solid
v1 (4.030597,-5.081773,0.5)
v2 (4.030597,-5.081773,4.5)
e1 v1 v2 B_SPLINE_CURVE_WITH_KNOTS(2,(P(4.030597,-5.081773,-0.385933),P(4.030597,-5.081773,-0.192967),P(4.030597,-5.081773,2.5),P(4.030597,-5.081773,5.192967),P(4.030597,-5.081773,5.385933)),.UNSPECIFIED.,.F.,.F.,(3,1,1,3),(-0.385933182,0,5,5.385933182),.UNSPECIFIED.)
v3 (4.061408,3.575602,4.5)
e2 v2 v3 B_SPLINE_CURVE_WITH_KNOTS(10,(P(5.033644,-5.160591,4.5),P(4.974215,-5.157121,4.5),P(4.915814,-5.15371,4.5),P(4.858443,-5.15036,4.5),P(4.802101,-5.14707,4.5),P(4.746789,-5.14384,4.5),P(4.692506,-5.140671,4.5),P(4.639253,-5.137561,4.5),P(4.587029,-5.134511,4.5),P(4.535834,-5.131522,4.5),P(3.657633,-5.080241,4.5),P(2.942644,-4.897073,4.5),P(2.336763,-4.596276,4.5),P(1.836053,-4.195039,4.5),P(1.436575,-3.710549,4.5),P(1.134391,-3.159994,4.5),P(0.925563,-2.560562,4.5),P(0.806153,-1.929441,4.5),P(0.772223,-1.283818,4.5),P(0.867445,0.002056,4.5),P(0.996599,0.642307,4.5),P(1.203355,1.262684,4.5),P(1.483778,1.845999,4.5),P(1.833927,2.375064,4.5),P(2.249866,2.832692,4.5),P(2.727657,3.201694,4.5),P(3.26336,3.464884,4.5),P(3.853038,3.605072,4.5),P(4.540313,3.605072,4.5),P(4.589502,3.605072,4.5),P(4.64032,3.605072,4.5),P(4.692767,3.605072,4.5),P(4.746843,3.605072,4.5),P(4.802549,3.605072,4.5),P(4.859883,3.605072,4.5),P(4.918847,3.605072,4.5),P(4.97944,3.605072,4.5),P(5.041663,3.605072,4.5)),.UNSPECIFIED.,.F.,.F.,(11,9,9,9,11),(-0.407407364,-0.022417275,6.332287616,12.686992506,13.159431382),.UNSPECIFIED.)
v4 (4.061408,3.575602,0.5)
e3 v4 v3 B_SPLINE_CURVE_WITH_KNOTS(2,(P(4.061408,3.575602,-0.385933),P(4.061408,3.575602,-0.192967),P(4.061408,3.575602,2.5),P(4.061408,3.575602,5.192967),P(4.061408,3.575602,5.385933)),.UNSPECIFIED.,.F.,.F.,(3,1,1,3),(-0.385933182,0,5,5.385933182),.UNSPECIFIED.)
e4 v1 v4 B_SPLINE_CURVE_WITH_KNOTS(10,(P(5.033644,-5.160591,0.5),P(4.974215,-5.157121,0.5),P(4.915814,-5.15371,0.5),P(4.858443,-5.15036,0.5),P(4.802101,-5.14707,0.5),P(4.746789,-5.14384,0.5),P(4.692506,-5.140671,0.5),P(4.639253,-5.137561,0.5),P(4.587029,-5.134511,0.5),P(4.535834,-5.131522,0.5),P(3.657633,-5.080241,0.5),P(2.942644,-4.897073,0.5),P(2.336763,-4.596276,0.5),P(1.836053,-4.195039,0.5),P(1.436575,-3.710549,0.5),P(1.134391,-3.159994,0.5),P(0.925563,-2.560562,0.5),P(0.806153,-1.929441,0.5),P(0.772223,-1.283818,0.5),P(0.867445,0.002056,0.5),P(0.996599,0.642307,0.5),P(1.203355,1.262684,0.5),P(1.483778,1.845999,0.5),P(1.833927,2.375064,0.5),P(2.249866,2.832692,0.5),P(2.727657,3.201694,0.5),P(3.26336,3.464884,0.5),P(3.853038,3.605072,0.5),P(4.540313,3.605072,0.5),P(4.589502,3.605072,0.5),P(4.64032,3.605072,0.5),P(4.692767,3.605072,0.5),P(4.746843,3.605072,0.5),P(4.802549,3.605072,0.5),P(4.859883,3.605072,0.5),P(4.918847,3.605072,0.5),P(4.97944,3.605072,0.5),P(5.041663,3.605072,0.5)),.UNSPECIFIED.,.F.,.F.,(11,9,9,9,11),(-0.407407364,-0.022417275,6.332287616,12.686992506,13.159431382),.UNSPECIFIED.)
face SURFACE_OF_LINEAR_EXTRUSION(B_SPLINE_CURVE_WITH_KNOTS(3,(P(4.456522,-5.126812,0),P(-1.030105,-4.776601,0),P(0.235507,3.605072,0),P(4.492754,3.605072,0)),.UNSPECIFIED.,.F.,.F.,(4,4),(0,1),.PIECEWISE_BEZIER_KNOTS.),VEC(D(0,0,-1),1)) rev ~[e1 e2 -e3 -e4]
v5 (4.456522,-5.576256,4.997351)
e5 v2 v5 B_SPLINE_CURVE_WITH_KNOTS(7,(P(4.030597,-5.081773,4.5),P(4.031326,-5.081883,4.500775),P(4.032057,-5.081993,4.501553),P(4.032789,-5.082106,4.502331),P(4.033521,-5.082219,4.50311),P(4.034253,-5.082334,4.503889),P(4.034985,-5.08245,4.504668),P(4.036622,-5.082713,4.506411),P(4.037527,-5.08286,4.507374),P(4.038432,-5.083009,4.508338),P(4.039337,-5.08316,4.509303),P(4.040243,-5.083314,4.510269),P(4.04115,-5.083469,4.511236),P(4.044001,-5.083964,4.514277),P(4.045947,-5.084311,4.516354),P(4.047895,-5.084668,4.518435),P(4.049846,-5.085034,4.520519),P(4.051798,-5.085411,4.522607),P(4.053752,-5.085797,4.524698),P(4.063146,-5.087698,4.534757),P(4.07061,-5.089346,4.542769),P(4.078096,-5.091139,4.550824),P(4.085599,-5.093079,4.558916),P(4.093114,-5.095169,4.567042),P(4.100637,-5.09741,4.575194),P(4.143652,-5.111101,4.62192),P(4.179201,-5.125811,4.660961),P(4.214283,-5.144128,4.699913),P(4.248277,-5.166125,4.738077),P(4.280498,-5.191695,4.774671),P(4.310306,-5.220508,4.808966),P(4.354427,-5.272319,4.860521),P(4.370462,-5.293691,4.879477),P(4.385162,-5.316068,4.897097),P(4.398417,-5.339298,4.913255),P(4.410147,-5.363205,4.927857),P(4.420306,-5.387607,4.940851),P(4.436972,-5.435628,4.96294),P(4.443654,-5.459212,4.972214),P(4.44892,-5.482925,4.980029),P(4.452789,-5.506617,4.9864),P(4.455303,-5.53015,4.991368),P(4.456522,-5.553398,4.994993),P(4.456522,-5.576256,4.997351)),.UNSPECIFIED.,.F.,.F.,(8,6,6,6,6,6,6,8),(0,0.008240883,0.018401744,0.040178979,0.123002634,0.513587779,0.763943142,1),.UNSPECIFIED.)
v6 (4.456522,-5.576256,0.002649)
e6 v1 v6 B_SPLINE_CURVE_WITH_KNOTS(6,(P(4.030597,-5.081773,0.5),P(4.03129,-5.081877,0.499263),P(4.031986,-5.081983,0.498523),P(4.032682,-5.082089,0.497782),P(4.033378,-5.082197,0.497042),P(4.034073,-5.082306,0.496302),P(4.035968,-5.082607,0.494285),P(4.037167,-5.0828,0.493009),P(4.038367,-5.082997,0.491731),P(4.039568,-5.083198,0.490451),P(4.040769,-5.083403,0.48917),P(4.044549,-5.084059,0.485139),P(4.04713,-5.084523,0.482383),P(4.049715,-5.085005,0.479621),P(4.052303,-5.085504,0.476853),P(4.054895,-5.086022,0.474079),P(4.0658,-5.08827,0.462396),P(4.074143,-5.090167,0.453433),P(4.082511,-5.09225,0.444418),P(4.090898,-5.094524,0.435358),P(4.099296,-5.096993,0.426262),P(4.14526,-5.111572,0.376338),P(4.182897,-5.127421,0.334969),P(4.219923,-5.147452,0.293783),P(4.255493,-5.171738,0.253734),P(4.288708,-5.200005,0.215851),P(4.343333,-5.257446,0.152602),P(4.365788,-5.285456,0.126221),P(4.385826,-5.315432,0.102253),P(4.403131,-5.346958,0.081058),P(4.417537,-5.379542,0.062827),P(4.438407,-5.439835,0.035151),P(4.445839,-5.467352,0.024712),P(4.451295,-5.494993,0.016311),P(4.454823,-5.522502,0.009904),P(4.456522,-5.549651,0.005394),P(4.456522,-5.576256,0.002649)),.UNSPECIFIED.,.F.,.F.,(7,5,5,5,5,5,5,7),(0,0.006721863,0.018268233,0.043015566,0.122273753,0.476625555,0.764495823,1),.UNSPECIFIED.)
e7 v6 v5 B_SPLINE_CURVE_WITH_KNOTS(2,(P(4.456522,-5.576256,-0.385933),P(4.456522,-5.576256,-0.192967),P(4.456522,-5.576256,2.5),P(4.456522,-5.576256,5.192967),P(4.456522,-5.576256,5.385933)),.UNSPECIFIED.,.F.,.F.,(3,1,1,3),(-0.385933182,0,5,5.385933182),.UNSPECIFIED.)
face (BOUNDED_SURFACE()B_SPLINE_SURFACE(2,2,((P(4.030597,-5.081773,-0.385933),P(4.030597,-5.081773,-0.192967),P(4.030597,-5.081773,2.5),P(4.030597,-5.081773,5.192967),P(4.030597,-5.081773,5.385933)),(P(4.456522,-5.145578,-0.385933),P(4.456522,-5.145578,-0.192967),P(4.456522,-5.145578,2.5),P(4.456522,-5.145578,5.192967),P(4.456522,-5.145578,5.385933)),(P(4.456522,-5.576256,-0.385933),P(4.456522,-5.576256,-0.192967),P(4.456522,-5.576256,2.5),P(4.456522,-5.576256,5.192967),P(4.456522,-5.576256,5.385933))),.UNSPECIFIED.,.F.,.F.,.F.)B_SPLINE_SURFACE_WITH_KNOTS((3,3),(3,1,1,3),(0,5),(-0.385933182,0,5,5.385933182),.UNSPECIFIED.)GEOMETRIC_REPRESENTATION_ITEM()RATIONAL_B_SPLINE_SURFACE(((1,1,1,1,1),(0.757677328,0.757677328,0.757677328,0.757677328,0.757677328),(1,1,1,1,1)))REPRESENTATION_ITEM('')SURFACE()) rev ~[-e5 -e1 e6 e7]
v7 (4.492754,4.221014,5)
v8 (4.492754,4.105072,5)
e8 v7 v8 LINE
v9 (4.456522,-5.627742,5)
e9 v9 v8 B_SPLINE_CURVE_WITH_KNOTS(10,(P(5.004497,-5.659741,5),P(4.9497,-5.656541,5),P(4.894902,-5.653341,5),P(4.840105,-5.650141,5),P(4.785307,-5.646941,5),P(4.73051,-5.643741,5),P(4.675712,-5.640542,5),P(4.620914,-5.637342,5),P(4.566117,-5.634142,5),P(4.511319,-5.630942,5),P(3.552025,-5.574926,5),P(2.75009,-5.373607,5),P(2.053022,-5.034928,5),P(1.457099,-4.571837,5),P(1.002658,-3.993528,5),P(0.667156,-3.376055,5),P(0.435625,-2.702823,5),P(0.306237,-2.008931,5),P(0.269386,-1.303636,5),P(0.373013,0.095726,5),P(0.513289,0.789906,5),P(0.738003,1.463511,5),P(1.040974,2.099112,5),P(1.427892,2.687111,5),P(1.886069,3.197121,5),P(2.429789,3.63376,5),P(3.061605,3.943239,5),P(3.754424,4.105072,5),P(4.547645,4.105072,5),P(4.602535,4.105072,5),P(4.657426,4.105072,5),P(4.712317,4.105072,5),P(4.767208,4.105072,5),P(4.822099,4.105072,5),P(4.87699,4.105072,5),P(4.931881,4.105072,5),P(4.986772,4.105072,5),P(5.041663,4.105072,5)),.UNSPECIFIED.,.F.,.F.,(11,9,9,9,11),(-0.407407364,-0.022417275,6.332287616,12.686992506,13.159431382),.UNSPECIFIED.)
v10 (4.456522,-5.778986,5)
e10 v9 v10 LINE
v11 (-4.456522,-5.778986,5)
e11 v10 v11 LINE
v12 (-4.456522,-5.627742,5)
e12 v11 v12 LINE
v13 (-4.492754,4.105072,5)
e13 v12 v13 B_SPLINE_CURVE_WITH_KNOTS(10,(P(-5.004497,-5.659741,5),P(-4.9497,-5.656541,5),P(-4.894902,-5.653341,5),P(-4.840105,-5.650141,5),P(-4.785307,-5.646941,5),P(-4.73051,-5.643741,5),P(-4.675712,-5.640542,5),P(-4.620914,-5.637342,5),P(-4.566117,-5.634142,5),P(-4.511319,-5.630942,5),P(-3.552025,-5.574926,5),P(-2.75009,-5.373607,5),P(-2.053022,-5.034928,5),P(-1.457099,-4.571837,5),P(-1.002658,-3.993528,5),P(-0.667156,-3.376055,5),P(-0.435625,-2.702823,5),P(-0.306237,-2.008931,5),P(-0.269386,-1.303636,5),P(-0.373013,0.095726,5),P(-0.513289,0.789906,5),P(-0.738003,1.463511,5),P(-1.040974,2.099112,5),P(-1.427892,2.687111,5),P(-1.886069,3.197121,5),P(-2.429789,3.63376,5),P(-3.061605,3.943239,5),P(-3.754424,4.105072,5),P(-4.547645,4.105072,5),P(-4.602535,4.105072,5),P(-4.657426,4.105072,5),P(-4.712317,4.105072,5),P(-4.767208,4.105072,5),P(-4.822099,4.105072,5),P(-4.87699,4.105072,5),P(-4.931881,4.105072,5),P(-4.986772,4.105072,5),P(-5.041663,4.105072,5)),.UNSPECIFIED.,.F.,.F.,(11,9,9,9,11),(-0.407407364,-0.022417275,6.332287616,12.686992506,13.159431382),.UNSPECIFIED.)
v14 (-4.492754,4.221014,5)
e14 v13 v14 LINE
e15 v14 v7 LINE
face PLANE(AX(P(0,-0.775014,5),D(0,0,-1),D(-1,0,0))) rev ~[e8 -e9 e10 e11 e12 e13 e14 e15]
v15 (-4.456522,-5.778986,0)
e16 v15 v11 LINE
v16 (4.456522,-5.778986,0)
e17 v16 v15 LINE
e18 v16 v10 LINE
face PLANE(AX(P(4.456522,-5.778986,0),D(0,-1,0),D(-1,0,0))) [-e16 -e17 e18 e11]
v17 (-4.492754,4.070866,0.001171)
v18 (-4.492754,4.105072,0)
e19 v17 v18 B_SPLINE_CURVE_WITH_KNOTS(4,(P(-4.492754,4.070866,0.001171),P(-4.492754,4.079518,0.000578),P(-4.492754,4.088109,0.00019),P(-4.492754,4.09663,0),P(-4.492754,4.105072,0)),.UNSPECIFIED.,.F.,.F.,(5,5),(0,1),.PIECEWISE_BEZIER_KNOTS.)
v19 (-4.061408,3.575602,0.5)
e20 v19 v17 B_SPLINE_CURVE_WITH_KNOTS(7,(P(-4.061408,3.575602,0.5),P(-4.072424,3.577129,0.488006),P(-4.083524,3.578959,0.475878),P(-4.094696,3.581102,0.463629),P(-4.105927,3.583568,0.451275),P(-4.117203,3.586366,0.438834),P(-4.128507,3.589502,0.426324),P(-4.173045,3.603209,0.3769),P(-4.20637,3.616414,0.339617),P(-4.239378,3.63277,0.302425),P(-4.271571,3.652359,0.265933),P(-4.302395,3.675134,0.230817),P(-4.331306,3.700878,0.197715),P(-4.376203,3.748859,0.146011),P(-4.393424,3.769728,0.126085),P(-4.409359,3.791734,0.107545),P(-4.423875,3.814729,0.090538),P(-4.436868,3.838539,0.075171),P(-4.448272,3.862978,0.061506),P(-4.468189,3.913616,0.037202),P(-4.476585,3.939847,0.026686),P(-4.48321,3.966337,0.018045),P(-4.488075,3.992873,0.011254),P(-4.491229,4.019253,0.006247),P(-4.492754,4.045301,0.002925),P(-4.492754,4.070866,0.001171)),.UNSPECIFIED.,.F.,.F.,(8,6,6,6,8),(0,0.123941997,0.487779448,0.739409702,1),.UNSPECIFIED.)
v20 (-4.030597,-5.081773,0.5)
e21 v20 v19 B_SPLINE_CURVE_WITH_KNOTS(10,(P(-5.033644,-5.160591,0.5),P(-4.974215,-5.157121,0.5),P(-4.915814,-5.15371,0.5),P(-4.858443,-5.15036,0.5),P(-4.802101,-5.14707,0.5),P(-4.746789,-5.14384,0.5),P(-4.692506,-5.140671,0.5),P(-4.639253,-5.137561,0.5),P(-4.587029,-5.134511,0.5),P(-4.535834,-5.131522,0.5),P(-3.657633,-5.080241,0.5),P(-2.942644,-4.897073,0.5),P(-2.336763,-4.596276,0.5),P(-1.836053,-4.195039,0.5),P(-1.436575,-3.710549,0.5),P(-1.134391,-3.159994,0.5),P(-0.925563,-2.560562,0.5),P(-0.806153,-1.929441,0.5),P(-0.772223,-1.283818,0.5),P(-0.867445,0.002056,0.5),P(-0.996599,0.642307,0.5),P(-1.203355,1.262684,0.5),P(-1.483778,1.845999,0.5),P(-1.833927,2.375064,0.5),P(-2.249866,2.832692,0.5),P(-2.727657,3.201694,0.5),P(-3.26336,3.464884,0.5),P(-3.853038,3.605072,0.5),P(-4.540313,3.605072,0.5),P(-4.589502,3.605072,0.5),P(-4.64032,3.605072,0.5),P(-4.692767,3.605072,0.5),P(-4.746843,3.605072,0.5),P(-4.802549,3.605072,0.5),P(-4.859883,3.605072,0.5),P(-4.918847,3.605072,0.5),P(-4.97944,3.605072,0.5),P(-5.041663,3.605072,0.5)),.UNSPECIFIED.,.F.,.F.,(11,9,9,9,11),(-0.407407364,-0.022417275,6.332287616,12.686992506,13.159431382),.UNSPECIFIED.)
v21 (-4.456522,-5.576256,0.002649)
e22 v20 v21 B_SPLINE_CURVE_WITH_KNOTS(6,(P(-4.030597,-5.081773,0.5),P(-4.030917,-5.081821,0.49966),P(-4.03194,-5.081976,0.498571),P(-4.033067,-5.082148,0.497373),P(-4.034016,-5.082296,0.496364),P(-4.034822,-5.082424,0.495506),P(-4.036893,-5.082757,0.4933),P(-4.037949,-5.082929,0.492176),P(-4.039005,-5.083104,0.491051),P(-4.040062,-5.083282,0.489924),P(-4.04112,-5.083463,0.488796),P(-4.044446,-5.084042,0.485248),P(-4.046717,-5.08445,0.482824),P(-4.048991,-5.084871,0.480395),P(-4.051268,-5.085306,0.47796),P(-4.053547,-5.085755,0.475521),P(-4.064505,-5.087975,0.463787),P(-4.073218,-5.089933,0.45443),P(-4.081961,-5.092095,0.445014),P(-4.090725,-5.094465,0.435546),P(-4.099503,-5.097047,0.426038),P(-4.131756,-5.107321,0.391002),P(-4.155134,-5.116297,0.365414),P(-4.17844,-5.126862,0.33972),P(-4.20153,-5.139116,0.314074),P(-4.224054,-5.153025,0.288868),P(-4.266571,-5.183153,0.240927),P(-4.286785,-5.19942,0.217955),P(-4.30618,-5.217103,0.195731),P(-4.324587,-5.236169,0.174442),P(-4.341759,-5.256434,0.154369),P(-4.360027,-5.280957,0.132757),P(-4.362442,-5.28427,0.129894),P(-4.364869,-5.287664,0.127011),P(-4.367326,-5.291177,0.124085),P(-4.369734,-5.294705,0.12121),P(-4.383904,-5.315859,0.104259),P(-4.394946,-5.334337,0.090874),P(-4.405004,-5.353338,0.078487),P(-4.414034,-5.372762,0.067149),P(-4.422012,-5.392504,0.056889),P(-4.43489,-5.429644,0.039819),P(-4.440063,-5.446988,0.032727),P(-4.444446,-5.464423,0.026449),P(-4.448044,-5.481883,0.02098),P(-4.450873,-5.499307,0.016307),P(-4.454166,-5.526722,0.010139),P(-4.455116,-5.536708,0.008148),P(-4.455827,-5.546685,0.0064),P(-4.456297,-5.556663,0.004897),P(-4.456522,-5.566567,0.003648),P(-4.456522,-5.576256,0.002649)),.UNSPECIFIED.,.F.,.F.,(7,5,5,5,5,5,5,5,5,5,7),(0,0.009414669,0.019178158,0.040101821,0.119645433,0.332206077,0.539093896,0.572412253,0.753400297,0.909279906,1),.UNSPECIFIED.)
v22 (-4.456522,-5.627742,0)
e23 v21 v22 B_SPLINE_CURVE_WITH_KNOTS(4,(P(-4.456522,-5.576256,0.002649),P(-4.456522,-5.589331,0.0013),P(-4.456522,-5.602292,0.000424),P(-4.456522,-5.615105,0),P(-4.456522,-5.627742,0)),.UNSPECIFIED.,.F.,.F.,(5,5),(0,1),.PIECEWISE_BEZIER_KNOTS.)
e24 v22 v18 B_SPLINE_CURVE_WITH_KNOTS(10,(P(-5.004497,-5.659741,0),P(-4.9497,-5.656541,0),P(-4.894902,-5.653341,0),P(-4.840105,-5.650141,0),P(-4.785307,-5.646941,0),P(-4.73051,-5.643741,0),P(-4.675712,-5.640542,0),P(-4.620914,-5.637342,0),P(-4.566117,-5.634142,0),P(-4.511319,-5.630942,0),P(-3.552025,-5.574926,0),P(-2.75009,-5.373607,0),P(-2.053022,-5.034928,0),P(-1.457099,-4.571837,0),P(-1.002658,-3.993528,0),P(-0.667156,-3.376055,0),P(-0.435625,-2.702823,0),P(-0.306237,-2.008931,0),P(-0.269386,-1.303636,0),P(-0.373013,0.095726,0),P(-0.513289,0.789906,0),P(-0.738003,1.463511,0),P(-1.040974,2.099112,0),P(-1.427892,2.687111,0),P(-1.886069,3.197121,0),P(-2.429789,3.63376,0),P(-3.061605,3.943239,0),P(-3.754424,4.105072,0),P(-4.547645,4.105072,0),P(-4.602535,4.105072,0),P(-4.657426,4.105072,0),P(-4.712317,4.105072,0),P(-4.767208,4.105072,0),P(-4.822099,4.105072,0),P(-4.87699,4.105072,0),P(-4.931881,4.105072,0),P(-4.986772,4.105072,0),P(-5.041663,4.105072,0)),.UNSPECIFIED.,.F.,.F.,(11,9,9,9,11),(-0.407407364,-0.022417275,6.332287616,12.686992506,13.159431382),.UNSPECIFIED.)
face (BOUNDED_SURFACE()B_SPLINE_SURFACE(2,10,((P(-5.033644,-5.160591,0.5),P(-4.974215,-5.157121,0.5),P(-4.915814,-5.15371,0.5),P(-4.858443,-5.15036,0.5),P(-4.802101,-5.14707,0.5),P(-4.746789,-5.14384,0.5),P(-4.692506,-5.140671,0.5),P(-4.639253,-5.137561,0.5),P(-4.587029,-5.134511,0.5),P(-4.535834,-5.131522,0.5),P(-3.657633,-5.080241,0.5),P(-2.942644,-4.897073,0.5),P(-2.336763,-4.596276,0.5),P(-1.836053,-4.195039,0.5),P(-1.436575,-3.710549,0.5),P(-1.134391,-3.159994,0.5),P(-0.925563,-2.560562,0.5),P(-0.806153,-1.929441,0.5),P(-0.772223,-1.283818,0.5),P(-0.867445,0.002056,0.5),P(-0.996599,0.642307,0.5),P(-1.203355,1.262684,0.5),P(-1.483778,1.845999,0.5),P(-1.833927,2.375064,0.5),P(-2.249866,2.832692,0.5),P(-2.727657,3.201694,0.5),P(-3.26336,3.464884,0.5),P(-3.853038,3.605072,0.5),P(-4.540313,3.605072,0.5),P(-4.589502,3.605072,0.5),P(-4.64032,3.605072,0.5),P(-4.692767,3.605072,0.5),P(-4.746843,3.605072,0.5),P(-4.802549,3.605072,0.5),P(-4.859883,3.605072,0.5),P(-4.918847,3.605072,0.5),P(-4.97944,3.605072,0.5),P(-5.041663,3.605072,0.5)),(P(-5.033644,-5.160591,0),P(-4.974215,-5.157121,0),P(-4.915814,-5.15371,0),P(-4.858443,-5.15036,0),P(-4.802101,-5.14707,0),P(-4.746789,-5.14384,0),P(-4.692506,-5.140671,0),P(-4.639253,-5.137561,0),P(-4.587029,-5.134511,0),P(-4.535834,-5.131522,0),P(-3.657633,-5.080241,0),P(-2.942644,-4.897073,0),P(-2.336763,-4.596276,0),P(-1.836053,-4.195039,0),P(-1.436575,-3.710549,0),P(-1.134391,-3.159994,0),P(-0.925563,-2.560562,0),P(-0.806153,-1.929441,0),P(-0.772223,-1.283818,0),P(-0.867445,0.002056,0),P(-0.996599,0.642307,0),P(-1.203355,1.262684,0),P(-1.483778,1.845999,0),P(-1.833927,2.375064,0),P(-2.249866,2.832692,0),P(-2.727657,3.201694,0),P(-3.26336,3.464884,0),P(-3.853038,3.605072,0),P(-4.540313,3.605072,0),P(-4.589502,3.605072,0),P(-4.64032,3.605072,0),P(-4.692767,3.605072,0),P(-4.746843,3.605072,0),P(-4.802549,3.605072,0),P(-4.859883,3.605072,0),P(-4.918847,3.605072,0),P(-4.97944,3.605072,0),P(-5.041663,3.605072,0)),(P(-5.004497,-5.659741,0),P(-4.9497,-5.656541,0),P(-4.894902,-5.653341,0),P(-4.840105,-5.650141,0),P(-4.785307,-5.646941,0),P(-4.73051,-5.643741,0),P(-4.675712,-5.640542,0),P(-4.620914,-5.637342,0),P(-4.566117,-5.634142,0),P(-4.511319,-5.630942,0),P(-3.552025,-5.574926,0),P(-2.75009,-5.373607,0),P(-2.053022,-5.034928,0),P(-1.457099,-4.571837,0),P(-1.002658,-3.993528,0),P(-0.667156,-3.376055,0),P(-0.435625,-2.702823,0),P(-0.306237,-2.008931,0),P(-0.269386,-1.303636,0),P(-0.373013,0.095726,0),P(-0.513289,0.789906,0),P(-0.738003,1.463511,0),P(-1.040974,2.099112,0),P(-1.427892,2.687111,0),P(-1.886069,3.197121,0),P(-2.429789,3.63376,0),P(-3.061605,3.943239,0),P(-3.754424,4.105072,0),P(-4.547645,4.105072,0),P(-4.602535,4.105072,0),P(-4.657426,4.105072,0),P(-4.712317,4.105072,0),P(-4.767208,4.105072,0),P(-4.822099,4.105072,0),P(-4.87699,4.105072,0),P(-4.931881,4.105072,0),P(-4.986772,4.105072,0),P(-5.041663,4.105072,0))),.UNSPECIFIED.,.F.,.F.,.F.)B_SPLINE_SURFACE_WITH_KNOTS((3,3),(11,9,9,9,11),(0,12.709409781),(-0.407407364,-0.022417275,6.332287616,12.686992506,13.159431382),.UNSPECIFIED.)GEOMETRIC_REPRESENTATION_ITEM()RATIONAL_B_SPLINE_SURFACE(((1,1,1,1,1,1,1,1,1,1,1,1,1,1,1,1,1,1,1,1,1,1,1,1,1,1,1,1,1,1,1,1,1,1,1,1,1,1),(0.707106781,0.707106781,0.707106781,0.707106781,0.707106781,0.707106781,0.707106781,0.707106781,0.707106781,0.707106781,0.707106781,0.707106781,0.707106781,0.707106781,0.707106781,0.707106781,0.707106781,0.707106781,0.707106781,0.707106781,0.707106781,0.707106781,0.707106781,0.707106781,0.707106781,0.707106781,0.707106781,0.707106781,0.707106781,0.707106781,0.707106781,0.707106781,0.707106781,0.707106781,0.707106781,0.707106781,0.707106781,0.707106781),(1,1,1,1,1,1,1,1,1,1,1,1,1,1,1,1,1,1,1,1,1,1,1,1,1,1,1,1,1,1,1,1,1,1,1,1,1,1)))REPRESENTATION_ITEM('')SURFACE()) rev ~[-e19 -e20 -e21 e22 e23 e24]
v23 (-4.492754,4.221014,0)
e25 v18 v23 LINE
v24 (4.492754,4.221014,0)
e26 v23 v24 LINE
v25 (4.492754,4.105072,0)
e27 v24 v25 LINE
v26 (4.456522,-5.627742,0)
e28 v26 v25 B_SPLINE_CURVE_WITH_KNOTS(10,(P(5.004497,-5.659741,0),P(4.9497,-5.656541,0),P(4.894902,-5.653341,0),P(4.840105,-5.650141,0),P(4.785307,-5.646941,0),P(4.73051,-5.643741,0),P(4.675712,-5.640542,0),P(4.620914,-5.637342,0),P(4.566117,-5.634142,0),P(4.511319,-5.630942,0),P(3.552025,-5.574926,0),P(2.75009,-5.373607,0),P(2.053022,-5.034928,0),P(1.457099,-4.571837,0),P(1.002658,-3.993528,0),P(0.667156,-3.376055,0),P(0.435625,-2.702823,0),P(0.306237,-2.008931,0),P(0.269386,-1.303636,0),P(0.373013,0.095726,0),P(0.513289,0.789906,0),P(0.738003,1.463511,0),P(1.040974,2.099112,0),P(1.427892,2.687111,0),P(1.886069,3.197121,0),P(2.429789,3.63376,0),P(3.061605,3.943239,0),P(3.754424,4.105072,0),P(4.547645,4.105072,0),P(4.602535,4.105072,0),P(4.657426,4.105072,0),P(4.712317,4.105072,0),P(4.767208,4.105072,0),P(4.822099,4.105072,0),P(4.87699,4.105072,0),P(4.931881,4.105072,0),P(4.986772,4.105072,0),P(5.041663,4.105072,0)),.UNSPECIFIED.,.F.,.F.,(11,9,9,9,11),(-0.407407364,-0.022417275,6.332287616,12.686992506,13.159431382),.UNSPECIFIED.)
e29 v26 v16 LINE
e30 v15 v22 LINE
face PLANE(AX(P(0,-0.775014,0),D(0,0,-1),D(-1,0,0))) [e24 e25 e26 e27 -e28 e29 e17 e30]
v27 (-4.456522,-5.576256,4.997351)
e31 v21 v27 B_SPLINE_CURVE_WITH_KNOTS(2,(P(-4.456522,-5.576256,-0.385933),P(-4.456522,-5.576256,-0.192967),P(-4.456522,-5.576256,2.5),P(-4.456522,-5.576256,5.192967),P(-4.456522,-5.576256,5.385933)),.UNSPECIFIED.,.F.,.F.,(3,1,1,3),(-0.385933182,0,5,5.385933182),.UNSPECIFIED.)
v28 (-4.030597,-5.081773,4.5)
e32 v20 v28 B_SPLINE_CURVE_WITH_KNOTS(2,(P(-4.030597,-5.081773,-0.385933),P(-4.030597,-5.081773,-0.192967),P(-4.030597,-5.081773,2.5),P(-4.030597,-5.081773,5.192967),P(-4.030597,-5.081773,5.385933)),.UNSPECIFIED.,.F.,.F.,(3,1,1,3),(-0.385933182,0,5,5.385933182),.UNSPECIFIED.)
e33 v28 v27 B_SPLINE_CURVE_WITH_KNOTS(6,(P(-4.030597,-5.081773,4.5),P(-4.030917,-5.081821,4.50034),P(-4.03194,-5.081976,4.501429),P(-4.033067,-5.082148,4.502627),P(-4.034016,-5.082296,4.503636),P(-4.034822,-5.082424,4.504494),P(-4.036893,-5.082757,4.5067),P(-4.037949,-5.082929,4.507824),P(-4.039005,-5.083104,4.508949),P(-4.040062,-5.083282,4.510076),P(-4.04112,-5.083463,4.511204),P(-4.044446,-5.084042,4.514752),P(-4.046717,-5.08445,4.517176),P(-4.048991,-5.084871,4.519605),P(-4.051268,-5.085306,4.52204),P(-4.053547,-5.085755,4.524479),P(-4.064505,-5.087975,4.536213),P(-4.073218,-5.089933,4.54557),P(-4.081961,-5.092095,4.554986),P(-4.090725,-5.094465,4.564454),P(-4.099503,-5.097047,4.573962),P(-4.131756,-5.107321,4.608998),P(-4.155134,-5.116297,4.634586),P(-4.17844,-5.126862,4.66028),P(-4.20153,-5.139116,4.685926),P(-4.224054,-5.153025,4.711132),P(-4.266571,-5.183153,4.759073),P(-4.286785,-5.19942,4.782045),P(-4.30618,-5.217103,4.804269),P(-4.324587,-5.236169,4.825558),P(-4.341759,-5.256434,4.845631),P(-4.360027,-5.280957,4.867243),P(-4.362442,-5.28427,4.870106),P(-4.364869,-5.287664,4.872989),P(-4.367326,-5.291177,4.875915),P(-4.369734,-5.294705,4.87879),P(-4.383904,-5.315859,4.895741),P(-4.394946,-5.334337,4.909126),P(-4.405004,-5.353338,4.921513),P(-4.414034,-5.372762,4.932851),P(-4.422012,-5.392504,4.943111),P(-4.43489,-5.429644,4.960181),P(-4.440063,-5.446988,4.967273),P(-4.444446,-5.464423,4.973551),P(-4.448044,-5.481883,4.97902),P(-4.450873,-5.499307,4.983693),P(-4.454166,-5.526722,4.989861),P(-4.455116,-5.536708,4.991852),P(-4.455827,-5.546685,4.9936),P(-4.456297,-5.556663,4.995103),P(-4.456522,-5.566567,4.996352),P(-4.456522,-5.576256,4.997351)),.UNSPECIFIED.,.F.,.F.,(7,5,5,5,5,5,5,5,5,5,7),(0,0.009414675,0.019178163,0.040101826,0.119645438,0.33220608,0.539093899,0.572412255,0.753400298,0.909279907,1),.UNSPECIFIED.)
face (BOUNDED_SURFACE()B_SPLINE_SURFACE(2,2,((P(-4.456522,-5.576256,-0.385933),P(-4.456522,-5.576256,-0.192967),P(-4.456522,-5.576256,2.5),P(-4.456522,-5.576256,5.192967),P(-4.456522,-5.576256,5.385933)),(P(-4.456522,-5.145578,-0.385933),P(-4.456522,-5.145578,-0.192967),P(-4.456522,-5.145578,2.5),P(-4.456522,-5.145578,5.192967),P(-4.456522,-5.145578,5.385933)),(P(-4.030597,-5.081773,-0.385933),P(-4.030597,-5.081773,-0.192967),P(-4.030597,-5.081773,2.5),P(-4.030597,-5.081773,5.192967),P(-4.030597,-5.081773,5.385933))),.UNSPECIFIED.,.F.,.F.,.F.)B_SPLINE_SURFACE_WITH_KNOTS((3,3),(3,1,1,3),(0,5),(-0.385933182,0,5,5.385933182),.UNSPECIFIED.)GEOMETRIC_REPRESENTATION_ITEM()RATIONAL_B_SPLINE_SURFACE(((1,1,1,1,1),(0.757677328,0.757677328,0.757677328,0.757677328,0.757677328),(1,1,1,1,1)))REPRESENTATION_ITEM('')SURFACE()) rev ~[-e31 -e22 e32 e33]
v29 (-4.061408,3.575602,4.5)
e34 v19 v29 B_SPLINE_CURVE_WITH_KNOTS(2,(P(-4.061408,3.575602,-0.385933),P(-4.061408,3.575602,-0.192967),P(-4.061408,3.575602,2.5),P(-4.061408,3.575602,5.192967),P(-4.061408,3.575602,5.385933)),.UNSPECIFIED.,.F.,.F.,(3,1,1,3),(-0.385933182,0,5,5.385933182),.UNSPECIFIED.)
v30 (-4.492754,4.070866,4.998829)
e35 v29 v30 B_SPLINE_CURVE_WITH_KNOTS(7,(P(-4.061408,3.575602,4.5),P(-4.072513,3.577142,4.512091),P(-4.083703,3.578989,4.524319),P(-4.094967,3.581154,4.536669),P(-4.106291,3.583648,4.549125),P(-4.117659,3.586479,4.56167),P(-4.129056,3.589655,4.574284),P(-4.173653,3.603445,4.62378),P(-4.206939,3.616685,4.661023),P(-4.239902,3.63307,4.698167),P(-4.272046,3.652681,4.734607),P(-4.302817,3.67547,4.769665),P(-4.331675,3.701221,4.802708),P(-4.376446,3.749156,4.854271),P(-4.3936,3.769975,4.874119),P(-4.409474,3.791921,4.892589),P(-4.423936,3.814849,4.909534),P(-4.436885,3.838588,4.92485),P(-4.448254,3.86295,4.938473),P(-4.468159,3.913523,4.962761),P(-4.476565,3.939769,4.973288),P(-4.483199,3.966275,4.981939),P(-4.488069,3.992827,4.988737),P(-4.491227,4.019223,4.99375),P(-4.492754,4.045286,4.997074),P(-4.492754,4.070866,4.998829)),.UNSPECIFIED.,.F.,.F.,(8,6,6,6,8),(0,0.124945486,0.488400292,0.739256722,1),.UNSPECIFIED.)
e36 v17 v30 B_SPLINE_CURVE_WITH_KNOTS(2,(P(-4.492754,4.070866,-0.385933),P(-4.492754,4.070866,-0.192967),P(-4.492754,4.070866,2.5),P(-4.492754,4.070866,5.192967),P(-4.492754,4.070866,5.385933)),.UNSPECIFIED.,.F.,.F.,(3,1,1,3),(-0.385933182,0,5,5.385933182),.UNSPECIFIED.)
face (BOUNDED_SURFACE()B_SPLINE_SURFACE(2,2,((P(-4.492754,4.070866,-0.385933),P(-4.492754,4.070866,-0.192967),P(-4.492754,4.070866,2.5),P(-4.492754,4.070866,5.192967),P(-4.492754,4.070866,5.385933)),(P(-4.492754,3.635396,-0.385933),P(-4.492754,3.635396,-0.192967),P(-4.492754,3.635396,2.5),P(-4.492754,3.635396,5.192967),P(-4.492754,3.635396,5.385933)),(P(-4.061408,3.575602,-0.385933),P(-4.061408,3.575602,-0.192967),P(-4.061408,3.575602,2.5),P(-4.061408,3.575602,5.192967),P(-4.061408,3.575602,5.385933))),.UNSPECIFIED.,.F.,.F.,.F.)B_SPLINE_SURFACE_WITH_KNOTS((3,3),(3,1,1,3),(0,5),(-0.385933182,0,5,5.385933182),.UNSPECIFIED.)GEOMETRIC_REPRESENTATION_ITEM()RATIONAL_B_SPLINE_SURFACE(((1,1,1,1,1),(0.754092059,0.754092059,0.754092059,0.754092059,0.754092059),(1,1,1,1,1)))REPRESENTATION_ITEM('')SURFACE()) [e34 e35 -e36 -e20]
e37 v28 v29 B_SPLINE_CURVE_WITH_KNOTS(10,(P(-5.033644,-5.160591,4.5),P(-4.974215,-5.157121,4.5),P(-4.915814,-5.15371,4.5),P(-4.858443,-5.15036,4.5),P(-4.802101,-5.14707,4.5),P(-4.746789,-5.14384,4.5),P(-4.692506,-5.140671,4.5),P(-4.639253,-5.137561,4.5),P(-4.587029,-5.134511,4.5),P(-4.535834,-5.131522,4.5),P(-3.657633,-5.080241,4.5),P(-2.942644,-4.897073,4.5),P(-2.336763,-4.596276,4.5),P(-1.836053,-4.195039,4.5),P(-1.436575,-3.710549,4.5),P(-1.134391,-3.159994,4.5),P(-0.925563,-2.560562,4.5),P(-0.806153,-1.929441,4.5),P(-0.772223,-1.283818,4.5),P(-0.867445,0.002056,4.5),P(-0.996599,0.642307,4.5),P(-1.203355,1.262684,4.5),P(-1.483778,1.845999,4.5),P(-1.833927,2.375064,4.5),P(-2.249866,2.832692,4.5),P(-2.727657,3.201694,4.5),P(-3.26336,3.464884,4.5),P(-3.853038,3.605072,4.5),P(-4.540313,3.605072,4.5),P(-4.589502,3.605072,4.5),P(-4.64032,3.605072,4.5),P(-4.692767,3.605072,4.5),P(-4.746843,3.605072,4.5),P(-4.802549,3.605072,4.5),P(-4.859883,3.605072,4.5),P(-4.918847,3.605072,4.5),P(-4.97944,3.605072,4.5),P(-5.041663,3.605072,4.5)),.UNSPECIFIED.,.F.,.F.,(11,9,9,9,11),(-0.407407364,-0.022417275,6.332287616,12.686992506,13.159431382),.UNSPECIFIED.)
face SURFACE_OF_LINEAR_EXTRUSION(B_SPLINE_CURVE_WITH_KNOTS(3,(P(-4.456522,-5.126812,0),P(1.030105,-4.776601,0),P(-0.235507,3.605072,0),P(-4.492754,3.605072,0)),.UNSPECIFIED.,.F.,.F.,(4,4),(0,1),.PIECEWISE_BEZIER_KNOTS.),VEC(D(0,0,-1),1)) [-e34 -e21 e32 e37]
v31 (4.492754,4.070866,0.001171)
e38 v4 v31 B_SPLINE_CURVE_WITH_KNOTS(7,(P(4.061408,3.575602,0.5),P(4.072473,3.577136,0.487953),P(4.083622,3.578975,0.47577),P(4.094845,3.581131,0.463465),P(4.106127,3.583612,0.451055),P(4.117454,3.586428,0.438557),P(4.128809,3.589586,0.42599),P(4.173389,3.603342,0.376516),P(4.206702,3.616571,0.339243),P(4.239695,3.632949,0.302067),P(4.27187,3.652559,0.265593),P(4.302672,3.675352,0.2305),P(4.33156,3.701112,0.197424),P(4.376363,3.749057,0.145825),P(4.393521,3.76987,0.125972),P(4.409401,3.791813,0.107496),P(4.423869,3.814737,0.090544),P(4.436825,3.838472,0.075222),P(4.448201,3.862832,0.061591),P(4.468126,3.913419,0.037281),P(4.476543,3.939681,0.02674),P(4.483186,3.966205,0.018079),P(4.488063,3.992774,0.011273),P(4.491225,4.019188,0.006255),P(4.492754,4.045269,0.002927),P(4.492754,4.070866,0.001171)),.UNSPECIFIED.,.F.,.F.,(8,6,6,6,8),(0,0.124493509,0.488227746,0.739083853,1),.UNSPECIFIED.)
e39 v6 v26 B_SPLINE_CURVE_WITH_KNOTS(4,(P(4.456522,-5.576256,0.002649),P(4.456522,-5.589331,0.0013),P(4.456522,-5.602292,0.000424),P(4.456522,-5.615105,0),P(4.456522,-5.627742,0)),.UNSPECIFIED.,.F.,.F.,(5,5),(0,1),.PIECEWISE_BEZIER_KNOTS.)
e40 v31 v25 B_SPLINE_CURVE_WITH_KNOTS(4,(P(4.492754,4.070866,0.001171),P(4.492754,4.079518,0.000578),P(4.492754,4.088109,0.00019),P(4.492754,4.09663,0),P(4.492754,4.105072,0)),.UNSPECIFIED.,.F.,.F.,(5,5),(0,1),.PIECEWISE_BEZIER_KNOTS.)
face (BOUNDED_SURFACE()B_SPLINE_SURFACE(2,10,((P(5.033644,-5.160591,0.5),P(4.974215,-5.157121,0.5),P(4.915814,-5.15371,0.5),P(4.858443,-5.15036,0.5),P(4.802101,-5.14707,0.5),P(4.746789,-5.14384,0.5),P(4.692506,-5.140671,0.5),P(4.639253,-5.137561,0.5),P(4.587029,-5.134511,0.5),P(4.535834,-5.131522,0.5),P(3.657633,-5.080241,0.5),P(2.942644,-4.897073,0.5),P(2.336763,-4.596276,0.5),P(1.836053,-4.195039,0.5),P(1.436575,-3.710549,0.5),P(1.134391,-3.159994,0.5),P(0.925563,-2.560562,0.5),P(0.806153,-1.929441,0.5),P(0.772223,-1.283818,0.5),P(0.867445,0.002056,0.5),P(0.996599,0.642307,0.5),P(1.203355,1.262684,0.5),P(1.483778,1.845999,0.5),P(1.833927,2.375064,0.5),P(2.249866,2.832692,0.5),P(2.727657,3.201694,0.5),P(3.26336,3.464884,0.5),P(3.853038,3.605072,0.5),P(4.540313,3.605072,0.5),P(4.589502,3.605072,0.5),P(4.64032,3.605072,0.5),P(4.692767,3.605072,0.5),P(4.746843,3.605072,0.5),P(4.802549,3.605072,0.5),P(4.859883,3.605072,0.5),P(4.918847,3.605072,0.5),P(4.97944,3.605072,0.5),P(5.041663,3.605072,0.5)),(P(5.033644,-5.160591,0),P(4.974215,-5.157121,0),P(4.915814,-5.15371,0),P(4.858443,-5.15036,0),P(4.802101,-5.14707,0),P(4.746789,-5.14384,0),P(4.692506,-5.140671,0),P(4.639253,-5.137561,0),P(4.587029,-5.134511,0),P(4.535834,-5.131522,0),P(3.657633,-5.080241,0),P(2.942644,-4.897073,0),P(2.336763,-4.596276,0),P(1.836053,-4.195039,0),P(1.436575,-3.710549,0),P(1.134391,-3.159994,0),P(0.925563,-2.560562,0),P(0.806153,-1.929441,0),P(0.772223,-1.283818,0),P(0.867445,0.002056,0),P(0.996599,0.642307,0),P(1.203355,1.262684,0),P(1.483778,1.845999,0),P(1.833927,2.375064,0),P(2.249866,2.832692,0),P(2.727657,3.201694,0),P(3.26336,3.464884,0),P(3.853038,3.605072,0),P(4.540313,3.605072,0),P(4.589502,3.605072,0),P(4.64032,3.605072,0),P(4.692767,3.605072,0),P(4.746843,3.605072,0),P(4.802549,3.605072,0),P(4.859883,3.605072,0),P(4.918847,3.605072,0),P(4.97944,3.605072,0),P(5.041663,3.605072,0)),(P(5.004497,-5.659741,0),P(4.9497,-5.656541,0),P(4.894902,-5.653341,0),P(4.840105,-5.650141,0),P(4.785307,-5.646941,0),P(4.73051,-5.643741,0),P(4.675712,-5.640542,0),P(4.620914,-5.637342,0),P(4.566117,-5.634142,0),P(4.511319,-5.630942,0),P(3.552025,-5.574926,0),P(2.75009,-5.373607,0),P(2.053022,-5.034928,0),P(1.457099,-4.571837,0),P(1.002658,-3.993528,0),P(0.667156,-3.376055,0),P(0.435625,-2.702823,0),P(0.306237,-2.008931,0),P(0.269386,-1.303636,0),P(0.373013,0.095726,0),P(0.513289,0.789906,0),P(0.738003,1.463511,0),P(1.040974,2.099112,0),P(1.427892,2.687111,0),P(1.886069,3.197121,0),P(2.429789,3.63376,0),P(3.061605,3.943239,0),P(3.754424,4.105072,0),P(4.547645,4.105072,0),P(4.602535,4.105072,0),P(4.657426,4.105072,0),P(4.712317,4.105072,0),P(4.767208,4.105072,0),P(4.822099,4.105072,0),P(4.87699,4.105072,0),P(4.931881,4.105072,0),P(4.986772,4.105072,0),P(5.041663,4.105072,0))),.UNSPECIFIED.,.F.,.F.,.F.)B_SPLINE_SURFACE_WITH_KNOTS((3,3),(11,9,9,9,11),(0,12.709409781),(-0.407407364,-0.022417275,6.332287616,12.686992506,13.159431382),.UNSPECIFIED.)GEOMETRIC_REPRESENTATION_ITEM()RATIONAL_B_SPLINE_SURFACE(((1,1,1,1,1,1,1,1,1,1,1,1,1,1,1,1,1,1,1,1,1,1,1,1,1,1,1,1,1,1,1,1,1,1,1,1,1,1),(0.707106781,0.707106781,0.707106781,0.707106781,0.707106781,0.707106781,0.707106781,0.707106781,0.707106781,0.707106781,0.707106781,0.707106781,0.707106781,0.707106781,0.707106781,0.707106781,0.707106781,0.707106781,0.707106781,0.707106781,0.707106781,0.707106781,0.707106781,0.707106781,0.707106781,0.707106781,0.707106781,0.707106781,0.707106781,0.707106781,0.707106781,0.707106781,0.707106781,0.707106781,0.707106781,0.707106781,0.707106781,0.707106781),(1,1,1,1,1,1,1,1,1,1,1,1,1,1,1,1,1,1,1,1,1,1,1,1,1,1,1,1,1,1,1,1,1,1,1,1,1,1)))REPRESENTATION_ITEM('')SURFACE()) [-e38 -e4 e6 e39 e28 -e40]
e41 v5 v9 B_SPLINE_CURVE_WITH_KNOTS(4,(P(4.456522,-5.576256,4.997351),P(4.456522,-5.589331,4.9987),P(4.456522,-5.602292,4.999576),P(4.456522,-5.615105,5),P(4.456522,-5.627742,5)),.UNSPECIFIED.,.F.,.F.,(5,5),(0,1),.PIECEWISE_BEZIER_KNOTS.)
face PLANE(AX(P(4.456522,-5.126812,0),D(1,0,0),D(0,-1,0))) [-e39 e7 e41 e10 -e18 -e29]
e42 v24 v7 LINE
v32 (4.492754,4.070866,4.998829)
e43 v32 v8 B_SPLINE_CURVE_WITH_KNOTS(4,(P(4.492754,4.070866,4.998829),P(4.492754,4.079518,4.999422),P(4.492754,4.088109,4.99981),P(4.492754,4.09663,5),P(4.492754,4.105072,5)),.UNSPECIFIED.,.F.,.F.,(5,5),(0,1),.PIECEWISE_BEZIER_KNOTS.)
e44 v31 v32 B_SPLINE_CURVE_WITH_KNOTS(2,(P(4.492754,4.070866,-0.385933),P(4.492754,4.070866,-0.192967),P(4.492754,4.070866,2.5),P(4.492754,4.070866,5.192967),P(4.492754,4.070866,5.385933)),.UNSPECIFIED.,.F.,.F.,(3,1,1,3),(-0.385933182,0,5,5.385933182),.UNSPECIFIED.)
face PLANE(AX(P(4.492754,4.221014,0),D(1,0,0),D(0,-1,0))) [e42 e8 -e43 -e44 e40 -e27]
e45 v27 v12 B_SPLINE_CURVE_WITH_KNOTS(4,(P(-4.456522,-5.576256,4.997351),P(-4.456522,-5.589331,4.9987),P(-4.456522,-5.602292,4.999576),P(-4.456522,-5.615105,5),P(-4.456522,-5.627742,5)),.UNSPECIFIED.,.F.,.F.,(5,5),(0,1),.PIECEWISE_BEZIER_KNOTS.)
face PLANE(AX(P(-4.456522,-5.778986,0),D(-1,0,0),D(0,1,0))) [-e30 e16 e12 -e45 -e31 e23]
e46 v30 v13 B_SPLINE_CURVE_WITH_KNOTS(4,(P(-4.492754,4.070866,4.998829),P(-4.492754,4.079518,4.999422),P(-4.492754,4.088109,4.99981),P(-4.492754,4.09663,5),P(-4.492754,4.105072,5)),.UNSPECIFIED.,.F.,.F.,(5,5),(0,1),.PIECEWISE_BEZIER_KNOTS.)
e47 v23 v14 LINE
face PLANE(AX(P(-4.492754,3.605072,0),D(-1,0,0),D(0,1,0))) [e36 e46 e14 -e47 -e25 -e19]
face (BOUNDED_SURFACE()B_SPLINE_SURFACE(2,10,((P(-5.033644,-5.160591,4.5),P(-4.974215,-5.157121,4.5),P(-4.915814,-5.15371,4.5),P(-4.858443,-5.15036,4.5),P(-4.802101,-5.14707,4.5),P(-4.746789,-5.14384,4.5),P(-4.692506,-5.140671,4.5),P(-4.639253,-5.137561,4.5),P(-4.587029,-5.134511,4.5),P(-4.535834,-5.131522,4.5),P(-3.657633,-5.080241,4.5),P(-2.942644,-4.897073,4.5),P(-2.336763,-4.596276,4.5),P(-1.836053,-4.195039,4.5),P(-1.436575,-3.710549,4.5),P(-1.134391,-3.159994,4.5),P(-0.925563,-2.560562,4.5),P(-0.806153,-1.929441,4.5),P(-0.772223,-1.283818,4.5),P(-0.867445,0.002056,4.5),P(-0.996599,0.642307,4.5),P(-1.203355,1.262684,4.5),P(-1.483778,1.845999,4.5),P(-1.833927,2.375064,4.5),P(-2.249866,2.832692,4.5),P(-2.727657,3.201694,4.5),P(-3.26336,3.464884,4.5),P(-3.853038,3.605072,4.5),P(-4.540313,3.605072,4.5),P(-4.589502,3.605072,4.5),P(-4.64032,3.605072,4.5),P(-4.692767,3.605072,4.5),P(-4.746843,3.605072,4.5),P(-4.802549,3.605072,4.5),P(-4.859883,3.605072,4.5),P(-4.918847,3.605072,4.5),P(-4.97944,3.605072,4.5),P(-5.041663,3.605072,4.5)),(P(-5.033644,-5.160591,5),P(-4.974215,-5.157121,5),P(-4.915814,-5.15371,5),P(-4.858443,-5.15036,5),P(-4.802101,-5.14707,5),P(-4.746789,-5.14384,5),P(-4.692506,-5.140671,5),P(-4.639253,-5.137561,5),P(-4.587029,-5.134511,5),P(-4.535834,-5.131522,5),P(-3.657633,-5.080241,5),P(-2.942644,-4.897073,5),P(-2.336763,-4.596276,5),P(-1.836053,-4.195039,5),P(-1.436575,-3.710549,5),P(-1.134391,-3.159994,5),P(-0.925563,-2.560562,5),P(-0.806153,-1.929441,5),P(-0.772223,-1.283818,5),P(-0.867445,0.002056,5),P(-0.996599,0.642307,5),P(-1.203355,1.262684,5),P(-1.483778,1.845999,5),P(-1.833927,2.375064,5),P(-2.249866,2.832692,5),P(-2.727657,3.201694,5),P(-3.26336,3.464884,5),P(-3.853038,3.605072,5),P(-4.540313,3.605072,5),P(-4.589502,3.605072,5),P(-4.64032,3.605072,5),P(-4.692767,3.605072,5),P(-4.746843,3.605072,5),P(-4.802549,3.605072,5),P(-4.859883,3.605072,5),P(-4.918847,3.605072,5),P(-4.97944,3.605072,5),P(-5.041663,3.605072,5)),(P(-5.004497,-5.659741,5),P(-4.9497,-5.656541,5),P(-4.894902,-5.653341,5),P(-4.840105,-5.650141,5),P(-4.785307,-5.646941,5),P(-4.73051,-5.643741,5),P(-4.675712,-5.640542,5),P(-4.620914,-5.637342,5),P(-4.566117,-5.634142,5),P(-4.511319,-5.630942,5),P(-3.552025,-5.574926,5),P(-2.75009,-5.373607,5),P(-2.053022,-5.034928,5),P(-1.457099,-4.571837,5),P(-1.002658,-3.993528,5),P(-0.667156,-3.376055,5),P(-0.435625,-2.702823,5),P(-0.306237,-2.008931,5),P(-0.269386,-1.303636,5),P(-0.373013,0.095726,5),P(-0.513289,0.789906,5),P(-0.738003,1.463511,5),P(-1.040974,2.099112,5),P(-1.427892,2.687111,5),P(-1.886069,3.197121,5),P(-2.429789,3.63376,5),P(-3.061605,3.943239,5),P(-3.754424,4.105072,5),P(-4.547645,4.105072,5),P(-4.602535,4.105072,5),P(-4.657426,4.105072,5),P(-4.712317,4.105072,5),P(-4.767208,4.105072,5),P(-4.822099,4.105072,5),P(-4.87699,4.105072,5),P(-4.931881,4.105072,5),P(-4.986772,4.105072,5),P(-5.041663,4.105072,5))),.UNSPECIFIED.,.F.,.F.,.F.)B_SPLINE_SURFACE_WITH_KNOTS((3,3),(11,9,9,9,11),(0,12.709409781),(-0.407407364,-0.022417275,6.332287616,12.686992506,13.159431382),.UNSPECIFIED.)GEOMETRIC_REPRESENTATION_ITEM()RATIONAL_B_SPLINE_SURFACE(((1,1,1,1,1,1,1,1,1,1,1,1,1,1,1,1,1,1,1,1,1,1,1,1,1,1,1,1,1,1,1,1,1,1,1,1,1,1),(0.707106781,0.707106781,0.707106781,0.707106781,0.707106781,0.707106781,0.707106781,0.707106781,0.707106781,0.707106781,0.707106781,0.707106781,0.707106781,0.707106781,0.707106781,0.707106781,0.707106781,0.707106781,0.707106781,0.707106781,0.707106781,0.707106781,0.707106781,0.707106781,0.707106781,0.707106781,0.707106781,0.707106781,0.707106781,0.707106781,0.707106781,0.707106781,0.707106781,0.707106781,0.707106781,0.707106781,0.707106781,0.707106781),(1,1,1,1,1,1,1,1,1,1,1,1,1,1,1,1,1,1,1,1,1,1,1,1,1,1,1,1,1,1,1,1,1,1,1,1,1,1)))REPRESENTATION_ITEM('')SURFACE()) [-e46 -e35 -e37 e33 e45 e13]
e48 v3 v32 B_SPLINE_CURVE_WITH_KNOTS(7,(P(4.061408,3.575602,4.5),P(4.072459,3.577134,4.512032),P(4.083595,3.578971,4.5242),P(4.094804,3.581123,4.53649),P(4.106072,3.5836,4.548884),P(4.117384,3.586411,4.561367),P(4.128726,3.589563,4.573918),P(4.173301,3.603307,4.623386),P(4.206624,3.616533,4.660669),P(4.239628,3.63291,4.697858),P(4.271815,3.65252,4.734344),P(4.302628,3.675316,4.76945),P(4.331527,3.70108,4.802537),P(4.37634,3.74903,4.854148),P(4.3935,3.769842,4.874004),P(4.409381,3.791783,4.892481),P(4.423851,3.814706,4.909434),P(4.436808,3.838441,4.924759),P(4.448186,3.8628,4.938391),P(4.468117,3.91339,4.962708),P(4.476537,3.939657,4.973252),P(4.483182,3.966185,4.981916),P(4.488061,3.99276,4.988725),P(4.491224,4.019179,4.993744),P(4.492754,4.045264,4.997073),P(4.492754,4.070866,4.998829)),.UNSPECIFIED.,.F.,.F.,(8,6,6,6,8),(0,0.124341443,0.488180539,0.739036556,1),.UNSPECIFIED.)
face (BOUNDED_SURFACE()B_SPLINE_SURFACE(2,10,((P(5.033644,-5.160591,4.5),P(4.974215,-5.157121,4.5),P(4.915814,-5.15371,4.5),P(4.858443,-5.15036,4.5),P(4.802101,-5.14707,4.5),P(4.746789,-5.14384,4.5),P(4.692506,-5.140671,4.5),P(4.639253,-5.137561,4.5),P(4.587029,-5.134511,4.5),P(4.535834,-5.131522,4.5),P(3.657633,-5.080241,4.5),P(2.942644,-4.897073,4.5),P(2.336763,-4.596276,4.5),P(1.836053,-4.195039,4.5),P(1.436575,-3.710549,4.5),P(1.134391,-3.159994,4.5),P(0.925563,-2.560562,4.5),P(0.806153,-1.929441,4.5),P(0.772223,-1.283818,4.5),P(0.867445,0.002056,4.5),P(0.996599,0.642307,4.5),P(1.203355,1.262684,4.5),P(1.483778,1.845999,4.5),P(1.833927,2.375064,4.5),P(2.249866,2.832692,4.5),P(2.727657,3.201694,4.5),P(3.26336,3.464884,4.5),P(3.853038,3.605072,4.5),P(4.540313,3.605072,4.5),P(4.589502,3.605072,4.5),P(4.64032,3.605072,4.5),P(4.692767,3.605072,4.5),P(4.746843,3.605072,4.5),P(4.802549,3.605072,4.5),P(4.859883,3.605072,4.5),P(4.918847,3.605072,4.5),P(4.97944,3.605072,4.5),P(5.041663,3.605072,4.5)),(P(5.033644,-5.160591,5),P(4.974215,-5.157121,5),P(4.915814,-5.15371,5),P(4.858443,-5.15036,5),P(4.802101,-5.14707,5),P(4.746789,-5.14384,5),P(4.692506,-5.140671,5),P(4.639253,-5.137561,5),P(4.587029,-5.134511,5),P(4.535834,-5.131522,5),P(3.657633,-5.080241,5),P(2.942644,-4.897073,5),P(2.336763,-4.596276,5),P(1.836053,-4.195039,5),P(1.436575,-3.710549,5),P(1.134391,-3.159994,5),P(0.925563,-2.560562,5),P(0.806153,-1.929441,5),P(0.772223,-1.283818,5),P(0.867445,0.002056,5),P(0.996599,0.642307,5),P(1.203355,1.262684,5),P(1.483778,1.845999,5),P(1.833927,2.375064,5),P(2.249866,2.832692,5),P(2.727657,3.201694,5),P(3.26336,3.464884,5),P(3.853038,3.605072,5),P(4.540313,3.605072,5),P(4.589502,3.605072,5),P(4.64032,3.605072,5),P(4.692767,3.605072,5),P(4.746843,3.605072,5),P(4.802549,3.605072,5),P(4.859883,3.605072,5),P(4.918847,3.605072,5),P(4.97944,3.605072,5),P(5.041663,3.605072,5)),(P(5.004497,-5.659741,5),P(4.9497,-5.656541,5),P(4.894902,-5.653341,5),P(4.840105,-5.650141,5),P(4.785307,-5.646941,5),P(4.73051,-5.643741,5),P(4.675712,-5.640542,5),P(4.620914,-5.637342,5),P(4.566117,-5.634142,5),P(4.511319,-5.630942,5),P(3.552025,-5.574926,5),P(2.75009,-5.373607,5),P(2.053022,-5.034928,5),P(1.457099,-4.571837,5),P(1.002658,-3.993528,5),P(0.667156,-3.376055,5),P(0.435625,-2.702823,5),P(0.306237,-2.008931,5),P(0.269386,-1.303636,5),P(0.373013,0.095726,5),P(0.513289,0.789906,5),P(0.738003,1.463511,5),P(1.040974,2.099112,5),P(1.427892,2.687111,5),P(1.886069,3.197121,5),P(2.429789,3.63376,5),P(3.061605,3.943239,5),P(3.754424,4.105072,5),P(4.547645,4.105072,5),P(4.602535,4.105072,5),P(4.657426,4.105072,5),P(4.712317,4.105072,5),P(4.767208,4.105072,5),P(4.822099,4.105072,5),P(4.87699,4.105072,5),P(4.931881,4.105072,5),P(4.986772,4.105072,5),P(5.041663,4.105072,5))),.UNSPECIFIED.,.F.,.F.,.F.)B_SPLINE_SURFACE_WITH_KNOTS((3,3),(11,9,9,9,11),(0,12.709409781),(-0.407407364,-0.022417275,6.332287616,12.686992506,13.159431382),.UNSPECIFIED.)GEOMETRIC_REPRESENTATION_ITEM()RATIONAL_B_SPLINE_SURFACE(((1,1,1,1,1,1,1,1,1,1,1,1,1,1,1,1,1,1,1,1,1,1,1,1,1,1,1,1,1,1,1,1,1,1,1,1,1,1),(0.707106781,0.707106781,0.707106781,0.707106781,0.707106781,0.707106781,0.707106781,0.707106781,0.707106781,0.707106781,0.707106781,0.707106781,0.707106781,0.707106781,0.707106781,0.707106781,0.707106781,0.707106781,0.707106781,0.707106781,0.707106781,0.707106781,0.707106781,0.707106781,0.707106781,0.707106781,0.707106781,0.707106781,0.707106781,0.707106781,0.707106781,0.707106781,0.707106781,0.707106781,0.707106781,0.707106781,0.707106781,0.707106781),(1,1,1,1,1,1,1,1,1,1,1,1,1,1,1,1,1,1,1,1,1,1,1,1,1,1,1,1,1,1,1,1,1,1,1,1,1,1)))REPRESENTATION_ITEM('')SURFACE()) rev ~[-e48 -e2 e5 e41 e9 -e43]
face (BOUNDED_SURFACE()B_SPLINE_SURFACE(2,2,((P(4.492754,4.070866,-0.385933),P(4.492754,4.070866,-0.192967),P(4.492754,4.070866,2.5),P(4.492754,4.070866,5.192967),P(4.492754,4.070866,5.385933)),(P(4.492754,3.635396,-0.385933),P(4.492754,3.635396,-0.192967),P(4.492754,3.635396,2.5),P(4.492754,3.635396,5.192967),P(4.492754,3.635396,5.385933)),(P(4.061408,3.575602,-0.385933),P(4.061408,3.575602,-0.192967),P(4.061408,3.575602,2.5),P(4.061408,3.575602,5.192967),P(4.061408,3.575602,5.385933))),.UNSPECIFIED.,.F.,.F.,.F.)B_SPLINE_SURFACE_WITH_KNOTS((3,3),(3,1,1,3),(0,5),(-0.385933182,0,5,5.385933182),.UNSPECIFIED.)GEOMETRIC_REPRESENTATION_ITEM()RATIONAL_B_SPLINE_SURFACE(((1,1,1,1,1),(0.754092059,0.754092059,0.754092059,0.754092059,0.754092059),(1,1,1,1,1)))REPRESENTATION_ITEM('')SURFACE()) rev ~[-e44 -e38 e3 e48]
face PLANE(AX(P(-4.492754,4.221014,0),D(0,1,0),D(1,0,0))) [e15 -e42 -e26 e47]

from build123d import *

# Parameters (mm, degrees)
BOSS_EXTRUDE1_DEPTH = 5
FILLET1_R           = 0.5


with BuildPart() as part:
    # Sketch1 → Boss-Extrude1 (new body)
    with BuildSketch(Plane.XY):
        with BuildLine():
            Line((-4.492753623, 3.605072464), (-4.492753623, 4.221014493))
            Line((-4.492753623, 4.221014493), (4.492753623, 4.221014493))
            Line((4.492753623, 4.221014493), (4.492753623, 3.605072464))
            add(Edge.make_bspline(
                [(4.456521739, -5.126811594), (-1.030105298, -4.776601358), (0.235507246, 3.605072464), (4.492753623, 3.605072464)],
                knots=[0, 0, 0, 0, 1, 1, 1, 1], degree=3))
            Line((4.456521739, -5.126811594), (4.456521739, -5.778985507))
            Line((4.456521739, -5.778985507), (-4.456521739, -5.778985507))
            Line((-4.456521739, -5.778985507), (-4.456521739, -5.126811594))
            add(Edge.make_bspline(
                [(-4.456521739, -5.126811594), (1.030105298, -4.776601358), (-0.235507246, 3.605072464), (-4.492753623, 3.605072464)],
                knots=[0, 0, 0, 0, 1, 1, 1, 1], degree=3))
        make_face()
    extrude(amount=BOSS_EXTRUDE1_DEPTH)

    # Fillet1
    fillet1_edges = [part.edges().sort_by_distance(p)[0] for p in [
        (-0.809667973, -0.814408993, 0),
        (-4.492753623, 3.605072464, 2.5),
        (4.492753623, 3.605072464, 2.5),
        (4.456521739, -5.126811594, 2.5),
        (-4.456521739, -5.126811594, 2.5),
        (0.809667973, -0.814408993, 5),
        (-0.809667973, -0.814408993, 5),
        (0.809667973, -0.814408993, 0),
    ]]
    fillet(fillet1_edges, radius=FILLET1_R)


solid = part.part
